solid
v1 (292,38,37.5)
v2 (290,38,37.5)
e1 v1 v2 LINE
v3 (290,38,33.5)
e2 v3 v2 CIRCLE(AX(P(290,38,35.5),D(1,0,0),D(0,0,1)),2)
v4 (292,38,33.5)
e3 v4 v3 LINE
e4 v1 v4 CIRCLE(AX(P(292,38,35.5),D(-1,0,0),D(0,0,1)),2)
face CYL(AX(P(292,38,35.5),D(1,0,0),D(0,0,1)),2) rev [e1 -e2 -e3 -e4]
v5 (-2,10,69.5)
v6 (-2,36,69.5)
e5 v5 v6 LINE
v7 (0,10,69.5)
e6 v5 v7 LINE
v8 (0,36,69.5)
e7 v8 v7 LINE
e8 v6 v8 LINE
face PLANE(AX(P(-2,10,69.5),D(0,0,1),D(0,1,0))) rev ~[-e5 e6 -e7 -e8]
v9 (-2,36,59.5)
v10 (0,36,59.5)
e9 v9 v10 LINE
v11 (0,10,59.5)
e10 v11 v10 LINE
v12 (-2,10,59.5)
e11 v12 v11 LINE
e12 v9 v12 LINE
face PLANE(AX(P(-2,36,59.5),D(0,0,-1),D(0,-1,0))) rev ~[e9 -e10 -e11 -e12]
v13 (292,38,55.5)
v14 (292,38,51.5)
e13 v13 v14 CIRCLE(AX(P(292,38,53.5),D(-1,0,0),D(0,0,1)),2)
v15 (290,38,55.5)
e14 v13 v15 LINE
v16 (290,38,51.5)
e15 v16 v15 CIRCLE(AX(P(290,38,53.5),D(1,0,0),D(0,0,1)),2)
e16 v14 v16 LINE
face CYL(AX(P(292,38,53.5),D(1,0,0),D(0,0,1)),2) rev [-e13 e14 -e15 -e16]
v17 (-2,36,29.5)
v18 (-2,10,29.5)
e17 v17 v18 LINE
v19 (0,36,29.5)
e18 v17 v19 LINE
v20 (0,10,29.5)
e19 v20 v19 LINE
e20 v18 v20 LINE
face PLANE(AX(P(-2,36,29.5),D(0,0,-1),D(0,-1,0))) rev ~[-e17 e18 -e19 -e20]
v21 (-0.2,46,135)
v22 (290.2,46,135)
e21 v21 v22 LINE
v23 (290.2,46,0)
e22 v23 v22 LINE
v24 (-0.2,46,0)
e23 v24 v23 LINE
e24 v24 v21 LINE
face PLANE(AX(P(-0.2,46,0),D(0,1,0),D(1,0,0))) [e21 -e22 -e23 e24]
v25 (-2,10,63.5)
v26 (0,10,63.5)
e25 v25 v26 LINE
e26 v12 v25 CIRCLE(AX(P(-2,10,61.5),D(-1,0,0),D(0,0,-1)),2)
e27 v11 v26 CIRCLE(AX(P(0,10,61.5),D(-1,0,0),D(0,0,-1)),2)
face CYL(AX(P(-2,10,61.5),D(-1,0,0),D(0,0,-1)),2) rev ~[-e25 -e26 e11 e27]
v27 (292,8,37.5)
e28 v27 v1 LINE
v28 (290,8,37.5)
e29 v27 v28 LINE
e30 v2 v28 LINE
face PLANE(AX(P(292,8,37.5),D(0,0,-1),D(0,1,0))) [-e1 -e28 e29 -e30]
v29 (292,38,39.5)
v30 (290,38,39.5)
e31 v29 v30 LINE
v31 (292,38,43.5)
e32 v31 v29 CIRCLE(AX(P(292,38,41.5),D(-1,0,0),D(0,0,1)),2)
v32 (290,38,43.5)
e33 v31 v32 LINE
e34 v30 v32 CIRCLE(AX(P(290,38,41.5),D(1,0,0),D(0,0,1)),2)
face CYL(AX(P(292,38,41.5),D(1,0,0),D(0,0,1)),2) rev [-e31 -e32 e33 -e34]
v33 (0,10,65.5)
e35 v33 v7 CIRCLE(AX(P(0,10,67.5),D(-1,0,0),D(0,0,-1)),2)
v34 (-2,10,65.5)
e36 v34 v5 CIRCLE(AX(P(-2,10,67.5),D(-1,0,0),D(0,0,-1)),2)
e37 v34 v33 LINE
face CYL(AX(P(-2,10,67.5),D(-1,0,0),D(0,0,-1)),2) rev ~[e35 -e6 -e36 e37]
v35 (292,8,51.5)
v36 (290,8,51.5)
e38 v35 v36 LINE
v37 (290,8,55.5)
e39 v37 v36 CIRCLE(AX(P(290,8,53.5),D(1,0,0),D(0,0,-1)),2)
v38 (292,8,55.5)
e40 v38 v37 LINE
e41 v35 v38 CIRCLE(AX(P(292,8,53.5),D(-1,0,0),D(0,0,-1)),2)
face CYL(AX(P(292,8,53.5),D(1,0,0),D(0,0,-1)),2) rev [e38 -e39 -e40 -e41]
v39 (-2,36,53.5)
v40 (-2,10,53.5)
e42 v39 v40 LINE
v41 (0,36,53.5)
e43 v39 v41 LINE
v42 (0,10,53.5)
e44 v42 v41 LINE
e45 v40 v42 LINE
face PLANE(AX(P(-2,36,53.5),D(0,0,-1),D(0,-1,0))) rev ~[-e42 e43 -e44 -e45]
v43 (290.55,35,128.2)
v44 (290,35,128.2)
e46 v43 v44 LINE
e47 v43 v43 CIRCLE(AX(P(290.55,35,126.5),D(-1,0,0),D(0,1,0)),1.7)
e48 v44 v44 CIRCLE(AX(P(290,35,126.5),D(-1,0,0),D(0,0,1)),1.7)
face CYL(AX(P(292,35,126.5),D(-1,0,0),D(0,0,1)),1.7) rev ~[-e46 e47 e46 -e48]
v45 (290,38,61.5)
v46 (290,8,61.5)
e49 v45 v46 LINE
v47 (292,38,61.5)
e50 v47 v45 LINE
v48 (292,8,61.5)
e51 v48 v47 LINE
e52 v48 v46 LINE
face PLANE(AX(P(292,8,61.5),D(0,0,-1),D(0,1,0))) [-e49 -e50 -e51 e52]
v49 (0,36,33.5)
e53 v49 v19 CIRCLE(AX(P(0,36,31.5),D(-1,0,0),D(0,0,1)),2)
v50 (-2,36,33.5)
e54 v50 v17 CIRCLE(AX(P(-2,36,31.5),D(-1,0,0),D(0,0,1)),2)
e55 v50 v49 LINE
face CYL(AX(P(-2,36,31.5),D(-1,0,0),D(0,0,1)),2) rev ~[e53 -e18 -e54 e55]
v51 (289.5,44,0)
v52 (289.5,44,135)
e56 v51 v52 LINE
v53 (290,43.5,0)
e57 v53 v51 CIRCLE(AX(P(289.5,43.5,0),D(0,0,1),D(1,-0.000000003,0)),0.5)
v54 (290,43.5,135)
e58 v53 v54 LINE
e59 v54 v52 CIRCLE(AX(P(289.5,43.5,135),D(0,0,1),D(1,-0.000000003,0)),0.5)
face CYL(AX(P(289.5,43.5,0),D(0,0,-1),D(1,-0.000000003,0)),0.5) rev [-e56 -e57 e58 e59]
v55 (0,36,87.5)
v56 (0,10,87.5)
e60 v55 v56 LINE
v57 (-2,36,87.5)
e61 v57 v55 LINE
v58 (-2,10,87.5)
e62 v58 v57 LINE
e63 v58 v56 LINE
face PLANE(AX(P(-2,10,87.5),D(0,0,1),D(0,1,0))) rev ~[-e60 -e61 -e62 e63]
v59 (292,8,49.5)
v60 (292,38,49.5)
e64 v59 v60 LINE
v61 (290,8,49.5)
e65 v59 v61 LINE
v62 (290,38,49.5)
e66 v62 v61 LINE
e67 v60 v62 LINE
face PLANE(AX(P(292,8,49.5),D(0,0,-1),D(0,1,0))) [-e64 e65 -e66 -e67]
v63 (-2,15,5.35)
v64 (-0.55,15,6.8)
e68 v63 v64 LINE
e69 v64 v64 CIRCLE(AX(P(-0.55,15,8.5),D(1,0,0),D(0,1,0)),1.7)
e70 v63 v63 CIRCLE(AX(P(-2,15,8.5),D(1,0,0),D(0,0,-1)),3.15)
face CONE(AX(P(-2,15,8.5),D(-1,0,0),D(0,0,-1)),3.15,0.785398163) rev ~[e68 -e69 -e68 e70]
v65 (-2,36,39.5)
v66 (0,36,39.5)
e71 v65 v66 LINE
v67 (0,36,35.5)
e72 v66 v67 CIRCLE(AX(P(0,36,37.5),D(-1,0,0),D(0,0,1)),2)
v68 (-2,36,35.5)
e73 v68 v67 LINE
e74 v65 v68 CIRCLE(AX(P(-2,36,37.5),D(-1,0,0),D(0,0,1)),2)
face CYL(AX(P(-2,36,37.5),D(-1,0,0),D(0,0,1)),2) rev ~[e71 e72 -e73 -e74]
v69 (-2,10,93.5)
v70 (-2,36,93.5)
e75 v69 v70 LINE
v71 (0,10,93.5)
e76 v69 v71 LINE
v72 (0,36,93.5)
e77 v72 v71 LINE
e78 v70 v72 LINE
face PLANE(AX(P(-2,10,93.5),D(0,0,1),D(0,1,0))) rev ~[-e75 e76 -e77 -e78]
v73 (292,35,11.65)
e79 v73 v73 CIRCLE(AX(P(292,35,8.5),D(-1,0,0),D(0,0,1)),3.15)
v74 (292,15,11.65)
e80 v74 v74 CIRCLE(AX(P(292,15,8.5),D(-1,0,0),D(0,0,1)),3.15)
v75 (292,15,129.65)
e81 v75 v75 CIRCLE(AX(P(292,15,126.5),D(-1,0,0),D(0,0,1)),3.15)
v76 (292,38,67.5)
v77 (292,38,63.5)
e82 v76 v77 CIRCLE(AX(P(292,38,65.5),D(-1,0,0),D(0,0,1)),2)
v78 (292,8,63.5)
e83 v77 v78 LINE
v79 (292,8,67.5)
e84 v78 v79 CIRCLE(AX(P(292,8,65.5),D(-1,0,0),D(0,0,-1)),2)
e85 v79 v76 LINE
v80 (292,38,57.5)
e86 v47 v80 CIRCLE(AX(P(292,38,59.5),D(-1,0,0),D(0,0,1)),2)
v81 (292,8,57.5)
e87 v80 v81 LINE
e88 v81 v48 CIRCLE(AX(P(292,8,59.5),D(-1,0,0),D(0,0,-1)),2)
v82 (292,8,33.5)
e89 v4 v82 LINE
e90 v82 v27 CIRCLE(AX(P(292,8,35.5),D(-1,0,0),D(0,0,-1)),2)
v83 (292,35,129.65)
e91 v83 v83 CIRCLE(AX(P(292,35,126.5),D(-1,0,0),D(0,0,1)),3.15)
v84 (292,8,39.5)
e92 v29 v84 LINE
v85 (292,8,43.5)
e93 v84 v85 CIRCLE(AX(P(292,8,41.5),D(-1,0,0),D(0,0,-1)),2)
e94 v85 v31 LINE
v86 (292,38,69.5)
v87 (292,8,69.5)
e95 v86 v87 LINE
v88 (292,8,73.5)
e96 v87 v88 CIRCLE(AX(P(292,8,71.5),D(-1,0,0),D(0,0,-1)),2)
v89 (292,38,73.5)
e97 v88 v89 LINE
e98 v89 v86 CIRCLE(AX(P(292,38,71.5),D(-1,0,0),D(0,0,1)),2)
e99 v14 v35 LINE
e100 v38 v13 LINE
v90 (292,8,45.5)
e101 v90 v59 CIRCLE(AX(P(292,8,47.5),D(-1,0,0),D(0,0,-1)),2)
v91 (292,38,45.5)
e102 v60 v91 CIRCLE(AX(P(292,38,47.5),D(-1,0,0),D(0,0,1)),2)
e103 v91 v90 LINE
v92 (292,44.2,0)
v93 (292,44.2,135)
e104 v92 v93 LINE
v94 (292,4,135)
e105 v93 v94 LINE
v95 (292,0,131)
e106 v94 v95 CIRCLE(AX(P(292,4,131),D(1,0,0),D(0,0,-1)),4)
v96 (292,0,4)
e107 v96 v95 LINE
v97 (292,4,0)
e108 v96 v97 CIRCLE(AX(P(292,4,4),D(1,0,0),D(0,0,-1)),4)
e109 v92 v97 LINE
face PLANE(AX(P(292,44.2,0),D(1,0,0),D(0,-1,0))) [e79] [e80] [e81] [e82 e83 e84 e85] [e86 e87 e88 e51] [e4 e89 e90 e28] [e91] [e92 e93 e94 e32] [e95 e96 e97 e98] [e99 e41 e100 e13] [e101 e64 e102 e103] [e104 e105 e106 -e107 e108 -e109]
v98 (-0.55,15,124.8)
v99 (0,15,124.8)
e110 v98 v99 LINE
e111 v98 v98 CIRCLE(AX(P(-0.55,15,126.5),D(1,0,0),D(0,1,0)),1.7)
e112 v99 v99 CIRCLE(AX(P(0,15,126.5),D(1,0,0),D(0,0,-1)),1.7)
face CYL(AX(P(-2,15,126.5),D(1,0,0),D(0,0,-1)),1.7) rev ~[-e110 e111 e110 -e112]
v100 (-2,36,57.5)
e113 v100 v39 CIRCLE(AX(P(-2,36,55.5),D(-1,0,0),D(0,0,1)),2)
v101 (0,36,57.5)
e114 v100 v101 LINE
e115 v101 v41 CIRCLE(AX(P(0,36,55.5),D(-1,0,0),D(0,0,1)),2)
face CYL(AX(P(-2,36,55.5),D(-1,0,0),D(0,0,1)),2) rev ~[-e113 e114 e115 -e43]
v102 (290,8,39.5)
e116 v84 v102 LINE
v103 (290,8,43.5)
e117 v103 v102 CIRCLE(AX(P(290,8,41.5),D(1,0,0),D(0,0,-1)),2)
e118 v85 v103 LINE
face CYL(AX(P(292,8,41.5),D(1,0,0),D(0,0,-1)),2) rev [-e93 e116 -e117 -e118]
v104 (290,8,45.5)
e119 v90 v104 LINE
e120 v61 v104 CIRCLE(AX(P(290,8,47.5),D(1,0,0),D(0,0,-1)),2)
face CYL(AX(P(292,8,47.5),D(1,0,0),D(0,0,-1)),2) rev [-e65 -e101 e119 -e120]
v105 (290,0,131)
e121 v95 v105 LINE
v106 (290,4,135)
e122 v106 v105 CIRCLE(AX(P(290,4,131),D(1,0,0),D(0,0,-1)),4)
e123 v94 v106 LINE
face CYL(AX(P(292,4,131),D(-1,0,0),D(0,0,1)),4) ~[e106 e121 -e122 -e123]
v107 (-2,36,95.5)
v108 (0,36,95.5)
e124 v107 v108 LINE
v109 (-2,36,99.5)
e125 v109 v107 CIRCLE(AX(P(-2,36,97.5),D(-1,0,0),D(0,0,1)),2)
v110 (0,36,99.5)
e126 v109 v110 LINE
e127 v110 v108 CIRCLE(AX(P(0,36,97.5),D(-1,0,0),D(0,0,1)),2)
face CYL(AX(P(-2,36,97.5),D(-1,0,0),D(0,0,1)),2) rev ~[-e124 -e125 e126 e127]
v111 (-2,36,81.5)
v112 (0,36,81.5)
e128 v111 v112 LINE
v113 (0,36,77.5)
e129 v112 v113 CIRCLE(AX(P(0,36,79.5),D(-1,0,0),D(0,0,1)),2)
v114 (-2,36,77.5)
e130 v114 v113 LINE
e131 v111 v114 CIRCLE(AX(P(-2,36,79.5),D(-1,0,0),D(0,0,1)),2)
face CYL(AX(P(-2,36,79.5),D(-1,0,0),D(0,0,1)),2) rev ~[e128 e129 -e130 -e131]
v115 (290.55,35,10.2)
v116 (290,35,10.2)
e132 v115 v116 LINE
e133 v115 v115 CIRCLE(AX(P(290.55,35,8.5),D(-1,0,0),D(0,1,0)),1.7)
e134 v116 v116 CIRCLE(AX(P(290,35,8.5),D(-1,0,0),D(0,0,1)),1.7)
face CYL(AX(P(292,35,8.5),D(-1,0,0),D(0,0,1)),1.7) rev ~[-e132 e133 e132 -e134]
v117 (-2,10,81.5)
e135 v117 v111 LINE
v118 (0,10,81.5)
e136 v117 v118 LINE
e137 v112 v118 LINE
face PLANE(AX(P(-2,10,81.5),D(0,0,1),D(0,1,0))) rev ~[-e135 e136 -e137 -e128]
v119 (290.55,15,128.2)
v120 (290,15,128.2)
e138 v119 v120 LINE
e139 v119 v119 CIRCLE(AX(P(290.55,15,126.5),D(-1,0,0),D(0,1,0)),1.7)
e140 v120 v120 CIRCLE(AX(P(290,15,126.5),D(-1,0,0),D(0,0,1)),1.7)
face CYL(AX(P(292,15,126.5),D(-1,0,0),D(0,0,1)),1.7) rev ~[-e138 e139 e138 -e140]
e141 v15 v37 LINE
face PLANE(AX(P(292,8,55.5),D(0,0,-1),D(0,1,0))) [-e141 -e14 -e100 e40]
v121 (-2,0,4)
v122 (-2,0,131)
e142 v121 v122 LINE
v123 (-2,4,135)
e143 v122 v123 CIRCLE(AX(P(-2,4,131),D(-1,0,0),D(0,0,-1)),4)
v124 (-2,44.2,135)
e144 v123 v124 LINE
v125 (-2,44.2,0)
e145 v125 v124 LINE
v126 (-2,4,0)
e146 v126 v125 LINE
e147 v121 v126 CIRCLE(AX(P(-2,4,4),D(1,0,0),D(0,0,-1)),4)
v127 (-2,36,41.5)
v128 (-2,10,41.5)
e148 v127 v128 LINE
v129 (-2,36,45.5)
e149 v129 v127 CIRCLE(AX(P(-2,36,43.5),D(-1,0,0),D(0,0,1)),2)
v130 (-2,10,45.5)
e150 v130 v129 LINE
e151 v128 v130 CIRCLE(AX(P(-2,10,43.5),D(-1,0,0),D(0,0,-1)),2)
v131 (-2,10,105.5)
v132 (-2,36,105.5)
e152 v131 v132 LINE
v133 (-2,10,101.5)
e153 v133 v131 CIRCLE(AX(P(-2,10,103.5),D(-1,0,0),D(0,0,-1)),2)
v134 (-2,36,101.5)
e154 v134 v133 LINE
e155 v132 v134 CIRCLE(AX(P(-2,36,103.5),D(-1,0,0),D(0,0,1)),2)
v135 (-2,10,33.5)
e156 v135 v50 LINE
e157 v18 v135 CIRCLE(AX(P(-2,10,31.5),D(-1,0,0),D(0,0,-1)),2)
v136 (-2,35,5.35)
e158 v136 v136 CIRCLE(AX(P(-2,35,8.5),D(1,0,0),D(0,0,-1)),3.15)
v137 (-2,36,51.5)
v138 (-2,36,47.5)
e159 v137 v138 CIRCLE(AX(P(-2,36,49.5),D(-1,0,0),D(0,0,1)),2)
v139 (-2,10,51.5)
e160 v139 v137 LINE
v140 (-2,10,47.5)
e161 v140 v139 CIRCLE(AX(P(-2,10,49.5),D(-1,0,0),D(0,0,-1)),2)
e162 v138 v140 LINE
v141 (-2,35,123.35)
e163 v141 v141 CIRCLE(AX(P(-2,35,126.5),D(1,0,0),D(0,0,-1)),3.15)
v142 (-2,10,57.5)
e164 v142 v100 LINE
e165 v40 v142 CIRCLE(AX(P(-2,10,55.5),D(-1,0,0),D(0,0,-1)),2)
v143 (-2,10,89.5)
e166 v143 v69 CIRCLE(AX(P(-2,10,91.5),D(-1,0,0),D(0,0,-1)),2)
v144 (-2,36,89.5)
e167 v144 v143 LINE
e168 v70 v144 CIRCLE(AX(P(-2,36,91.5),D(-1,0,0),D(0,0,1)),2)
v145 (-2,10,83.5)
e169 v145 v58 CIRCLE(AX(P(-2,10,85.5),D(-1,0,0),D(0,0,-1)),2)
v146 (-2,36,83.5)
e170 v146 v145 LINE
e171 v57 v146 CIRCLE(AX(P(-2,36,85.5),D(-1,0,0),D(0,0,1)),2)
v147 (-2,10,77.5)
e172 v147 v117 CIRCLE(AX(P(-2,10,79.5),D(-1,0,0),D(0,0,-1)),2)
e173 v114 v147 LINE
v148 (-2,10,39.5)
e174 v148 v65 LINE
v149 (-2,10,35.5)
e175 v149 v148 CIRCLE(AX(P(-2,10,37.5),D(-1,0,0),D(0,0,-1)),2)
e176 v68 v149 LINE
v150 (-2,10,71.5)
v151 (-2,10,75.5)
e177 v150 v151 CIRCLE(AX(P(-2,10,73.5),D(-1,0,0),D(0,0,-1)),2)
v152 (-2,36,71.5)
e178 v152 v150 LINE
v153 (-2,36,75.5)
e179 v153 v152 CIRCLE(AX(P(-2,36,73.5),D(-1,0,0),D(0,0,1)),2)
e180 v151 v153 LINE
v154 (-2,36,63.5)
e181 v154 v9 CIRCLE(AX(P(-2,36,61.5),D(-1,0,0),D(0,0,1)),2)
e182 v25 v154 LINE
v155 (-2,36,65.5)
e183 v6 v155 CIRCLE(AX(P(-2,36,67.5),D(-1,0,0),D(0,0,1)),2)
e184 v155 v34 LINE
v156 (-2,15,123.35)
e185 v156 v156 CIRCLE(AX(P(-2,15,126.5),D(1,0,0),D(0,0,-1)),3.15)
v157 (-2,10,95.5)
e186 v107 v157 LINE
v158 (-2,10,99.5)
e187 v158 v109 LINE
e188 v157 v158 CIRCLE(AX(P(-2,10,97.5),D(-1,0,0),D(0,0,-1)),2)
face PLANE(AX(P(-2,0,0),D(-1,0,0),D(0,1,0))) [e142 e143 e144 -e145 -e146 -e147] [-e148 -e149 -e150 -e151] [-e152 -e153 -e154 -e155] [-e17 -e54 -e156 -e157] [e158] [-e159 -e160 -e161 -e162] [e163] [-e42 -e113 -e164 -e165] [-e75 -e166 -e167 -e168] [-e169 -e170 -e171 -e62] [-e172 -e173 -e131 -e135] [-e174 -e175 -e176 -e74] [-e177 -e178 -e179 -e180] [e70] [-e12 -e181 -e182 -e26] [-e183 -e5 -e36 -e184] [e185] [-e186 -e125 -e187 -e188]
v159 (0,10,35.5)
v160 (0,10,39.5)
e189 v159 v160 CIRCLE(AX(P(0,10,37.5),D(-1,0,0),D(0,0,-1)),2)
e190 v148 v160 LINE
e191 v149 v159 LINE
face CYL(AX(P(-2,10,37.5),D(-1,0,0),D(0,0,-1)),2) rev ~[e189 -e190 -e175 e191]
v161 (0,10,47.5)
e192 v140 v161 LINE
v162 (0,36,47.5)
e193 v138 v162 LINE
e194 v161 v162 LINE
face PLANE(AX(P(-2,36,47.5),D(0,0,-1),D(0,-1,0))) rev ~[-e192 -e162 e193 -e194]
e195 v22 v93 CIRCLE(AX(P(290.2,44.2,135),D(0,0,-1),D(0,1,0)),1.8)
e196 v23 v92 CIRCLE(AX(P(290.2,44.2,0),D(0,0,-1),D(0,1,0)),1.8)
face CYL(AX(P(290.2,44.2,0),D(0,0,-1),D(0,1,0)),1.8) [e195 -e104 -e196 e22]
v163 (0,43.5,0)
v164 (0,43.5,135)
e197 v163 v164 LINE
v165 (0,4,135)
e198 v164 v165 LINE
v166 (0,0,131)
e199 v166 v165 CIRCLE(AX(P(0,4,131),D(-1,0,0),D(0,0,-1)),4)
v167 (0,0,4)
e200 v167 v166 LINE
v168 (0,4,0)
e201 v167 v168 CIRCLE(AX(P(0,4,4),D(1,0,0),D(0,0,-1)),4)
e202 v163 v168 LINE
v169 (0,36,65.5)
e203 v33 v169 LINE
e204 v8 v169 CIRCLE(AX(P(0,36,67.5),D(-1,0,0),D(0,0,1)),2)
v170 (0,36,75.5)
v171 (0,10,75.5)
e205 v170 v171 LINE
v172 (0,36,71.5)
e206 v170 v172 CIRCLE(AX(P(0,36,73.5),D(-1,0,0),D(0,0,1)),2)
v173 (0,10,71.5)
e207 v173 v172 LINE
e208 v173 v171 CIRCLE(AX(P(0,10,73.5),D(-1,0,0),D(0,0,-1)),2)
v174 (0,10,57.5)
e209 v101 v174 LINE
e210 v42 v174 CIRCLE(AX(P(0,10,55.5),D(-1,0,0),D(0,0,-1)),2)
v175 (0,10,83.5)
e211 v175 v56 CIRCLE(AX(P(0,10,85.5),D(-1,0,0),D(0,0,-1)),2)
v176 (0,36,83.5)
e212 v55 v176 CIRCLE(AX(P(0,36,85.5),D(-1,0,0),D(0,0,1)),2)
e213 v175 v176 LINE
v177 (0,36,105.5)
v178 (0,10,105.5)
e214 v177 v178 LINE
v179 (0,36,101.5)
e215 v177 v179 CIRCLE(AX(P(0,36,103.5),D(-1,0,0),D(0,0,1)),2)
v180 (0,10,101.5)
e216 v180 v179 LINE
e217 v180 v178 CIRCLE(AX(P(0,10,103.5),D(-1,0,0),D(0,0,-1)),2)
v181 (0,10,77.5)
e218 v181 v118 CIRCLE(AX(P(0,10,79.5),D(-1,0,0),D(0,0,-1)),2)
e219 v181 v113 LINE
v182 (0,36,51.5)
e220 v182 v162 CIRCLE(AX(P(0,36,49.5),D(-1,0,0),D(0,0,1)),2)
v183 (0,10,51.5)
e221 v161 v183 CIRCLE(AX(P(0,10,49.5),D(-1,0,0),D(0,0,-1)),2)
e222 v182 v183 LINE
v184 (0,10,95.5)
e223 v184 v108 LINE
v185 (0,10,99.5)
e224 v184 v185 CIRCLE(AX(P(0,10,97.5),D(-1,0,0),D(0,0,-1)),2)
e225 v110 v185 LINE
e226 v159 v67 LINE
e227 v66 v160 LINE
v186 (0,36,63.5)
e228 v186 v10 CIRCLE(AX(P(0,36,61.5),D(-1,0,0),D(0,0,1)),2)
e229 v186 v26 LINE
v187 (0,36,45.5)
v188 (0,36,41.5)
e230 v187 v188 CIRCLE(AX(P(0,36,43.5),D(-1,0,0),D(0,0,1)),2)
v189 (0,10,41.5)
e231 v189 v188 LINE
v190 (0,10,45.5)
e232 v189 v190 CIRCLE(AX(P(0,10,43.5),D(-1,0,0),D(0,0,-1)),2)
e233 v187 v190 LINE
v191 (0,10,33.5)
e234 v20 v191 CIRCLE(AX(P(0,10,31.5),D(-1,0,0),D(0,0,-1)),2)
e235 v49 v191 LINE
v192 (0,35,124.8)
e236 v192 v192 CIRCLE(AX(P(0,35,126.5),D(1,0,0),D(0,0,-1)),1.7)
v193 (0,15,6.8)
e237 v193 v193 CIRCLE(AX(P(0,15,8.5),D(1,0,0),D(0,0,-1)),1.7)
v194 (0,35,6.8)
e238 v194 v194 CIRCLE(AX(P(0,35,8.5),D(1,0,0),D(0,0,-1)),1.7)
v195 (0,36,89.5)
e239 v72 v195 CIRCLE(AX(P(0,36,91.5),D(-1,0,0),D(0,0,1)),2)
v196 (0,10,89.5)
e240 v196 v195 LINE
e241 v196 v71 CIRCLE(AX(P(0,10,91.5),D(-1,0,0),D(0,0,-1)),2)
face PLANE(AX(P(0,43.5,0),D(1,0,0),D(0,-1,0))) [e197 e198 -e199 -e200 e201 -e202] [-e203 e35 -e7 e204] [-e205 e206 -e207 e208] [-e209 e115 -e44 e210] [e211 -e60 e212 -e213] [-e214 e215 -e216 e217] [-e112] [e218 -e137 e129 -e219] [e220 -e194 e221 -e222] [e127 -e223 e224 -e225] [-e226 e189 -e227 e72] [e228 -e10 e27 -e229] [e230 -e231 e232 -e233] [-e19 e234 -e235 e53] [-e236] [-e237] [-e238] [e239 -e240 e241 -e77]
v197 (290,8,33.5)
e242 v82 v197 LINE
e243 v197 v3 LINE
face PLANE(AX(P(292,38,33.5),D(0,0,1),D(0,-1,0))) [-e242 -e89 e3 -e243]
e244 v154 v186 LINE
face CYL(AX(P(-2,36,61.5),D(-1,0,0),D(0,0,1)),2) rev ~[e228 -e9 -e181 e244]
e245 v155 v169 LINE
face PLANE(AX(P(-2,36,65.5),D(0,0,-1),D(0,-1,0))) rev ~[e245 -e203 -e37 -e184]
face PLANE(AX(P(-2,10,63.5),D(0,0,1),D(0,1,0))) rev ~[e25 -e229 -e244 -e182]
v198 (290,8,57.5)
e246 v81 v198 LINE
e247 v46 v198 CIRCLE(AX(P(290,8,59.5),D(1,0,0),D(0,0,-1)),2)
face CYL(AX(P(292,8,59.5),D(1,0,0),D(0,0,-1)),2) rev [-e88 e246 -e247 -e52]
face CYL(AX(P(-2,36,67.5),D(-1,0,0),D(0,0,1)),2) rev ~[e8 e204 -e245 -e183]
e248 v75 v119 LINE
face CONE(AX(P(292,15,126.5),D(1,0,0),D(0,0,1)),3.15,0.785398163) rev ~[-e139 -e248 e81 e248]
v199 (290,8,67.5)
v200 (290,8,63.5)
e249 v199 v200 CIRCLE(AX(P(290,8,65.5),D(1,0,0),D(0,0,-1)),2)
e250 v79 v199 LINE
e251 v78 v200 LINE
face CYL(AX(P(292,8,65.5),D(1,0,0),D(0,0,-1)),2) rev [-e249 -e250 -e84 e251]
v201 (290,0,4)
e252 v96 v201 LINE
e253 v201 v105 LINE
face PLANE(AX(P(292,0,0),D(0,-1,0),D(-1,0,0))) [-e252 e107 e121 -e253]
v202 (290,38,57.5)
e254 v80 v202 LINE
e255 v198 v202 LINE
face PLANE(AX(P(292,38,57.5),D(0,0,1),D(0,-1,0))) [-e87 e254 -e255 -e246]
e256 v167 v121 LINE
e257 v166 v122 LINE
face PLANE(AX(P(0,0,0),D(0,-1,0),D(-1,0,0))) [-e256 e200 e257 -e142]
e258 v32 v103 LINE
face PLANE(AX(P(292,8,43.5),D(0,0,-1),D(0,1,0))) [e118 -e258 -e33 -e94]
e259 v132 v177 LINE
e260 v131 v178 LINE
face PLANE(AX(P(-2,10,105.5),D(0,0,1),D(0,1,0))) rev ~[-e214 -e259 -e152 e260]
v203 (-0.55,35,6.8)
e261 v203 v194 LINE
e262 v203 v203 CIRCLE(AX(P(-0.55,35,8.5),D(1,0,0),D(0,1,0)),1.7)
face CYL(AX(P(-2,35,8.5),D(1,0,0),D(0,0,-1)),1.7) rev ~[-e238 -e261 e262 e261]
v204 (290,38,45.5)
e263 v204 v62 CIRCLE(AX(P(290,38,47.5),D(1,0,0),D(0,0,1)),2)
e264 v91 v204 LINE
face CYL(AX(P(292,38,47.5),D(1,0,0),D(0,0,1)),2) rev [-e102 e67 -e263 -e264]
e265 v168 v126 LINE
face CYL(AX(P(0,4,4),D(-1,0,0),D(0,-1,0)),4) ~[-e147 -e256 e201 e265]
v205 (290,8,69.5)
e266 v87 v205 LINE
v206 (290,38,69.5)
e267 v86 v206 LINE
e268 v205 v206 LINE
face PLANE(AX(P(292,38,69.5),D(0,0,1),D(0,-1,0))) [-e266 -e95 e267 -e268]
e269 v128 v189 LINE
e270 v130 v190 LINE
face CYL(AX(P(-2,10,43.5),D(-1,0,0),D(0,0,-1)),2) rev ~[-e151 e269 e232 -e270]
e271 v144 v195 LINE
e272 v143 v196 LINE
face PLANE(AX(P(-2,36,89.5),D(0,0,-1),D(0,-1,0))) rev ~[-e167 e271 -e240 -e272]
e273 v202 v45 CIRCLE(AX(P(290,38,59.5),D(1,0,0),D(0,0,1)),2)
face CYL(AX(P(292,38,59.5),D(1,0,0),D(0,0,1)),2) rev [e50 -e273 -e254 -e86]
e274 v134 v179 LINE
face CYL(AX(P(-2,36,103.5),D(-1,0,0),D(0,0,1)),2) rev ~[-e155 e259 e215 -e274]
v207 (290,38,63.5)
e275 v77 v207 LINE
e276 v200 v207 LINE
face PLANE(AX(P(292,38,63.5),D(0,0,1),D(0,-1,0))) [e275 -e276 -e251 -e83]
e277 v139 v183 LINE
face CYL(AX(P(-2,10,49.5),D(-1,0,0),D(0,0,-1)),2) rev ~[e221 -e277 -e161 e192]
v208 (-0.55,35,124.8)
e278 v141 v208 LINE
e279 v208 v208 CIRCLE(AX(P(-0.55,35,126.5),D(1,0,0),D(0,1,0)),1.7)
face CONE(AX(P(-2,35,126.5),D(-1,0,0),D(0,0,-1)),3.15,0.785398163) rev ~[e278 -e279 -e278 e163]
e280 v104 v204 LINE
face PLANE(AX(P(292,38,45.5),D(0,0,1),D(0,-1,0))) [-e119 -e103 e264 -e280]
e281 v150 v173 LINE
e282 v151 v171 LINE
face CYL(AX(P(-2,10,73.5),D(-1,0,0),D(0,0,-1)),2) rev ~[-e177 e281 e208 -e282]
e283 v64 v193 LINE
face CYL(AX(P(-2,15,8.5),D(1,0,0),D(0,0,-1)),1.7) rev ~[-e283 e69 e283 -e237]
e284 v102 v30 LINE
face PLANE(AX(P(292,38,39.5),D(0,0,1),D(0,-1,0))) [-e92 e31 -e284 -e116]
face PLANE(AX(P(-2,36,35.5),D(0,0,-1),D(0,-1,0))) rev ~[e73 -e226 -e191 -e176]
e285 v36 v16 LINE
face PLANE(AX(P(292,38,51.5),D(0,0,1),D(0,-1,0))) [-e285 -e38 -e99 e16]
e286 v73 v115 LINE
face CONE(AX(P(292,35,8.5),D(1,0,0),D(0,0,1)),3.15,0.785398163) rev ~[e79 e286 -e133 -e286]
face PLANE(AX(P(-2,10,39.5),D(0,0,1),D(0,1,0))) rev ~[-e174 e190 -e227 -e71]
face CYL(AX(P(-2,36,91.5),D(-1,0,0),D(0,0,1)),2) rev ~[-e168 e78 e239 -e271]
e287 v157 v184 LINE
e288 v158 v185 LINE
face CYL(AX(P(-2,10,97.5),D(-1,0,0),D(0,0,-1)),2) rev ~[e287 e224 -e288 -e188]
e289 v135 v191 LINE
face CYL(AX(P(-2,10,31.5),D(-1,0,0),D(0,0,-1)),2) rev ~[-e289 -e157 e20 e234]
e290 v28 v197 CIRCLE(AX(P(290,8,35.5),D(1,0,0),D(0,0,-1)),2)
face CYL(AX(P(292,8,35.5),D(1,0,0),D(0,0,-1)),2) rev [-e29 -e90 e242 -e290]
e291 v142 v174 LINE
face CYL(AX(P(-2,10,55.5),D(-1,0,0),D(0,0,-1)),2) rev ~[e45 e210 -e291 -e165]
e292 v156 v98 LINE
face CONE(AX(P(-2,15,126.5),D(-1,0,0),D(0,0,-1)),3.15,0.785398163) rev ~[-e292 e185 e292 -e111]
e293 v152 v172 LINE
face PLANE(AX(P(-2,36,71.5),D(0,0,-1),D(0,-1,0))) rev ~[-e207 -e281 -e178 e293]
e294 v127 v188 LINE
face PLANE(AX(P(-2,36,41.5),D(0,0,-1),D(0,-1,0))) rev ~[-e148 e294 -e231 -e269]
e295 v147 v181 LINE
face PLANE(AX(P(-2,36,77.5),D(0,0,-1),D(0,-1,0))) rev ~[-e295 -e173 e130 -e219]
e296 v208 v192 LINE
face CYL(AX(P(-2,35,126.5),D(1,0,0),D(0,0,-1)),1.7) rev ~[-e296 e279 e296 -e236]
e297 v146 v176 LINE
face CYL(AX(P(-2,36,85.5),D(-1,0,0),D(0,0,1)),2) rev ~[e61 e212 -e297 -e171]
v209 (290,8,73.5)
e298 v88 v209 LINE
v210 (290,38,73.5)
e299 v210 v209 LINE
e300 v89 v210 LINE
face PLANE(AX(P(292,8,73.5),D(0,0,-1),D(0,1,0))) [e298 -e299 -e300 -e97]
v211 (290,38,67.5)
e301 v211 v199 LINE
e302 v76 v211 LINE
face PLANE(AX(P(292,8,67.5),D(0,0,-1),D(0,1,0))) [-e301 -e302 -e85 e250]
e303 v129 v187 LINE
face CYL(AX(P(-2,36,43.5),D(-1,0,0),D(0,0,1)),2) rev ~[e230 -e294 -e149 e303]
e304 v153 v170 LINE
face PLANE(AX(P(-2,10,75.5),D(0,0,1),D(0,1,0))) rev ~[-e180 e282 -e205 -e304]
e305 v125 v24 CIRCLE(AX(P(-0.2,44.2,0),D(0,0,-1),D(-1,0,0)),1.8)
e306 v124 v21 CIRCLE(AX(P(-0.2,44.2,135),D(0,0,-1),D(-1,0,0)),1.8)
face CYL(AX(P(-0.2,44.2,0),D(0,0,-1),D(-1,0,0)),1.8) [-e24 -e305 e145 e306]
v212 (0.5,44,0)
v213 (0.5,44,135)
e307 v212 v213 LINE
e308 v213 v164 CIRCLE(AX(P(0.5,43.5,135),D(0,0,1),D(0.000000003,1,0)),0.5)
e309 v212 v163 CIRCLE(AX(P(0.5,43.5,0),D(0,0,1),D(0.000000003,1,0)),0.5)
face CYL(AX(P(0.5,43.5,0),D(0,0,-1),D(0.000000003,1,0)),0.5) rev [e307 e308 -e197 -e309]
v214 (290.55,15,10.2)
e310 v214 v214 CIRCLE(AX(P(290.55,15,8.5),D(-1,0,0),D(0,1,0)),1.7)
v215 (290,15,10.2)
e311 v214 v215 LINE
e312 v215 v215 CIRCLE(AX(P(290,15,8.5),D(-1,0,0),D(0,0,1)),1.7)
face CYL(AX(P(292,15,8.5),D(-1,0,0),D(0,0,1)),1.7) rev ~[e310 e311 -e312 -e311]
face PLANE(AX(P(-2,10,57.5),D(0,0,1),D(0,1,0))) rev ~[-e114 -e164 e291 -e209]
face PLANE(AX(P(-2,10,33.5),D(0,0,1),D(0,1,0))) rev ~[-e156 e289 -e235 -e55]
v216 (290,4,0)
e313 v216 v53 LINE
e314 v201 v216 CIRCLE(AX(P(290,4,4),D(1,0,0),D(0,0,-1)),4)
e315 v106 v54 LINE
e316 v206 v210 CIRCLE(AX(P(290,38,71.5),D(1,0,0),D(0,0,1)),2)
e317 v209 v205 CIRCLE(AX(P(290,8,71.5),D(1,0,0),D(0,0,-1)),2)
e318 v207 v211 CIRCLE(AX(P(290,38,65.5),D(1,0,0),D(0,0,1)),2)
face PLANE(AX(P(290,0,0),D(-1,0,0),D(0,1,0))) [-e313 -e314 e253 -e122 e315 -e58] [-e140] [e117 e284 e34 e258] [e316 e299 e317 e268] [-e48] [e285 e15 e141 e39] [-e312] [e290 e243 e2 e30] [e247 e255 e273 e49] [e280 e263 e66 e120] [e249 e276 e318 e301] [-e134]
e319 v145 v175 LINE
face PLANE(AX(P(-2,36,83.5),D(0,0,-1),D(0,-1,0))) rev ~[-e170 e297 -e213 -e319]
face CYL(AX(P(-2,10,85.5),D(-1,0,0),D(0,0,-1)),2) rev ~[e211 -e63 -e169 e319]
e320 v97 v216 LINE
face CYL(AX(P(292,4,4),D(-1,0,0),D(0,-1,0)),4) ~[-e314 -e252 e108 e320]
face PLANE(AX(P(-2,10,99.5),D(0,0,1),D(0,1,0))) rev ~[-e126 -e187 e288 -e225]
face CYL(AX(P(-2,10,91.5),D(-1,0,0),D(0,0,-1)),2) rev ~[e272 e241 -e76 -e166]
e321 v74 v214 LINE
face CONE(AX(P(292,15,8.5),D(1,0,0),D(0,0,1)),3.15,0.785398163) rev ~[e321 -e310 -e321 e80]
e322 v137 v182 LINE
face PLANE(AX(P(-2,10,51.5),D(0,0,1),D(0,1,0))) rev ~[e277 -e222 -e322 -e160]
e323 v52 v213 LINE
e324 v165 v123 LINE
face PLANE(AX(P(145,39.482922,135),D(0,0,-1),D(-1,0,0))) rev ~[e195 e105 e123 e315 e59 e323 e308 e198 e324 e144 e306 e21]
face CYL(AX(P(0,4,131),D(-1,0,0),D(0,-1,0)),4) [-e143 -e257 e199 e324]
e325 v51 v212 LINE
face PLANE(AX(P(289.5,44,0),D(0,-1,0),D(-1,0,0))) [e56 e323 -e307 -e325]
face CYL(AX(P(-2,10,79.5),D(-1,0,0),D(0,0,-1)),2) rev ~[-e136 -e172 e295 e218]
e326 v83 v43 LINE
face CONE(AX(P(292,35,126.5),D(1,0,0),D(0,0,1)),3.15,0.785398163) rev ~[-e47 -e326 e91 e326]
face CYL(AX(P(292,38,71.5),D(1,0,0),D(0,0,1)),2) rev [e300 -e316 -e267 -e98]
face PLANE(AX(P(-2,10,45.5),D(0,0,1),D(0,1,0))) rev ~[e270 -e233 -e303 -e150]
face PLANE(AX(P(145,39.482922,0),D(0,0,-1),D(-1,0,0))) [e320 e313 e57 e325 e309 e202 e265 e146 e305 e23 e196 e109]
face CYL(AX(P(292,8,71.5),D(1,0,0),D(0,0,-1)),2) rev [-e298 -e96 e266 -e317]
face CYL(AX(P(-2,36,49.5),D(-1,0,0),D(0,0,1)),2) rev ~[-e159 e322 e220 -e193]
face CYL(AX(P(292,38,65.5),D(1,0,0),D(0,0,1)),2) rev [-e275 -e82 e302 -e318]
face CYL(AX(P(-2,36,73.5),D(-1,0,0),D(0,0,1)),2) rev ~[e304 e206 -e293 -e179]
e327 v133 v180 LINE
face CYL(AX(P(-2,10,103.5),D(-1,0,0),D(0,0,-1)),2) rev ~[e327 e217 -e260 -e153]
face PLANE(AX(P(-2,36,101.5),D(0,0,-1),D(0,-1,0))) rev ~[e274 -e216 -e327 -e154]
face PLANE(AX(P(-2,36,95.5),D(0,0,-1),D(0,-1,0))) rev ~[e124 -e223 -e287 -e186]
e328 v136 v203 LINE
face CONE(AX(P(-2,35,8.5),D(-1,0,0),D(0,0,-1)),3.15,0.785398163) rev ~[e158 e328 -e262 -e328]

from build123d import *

# Parameters (mm, degrees)
BOSS_EXTRUDE1_DEPTH                             = 135
CSK_FOR_M3_FLAT_HEAD_MACHINE_SCREW1_D           = 3.4
CSK_FOR_M3_FLAT_HEAD_MACHINE_SCREW1_DEPTH       = 5
CSK_FOR_M3_FLAT_HEAD_MACHINE_SCREW1_CSINK_D     = 6.3
CSK_FOR_M3_FLAT_HEAD_MACHINE_SCREW1_CSINK_ANGLE = 90
CSK_FOR_M3_FLAT_HEAD_MACHINE_SCREW1_TIP         = 1.021463052
CSK_FOR_M3_FLAT_HEAD_MACHINE_SCREW2_D           = 3.4
CSK_FOR_M3_FLAT_HEAD_MACHINE_SCREW2_DEPTH       = 5
CSK_FOR_M3_FLAT_HEAD_MACHINE_SCREW2_CSINK_D     = 6.3
CSK_FOR_M3_FLAT_HEAD_MACHINE_SCREW2_CSINK_ANGLE = 90
CSK_FOR_M3_FLAT_HEAD_MACHINE_SCREW2_TIP         = 1.021463052
FILLET1_R                                       = 4
CUT_EXTRUDE1_DEPTH                              = 10
LPATTERN1_COUNT                                 = 13
LPATTERN1_PITCH                                 = 6
CUT_EXTRUDE2_DEPTH                              = 10
LPATTERN2_COUNT                                 = 7
LPATTERN2_PITCH                                 = 6


with BuildPart() as part:
    # Sketch1 → Boss-Extrude1 (new body)
    with BuildSketch(Plane.XY):
        with BuildLine():
            Line((0, 0), (-2, 0))
            Line((-2, 0), (-2, 44.2))
            ThreePointArc((-2, 44.2), (-1.472792206, 45.472792206), (-0.2, 46))
            Line((-0.2, 46), (290.2, 46))
            ThreePointArc((290.2, 46), (291.472792206, 45.472792206), (292, 44.2))
            Line((292, 44.2), (292, 0))
            Line((292, 0), (290, 0))
            Line((290, 0), (290, 43.5))
            ThreePointArc((290, 43.5), (289.853553391, 43.853553391), (289.5, 44))
            Line((289.5, 44), (0.5, 44))
            ThreePointArc((0.5, 44), (0.146446609, 43.853553391), (0, 43.5))
            Line((0, 43.5), (0, 0))
        make_face()
    extrude(amount=BOSS_EXTRUDE1_DEPTH)

    # CSK for M3 Flat Head Machine Screw1
    with Locations(Plane.ZY.offset(2)):
        with Locations((8.5, 35), (8.5, 15), (126.5, 35), (126.5, 15)):
            CounterSinkHole(CSK_FOR_M3_FLAT_HEAD_MACHINE_SCREW1_D / 2, CSK_FOR_M3_FLAT_HEAD_MACHINE_SCREW1_CSINK_D / 2, depth=CSK_FOR_M3_FLAT_HEAD_MACHINE_SCREW1_DEPTH, counter_sink_angle=CSK_FOR_M3_FLAT_HEAD_MACHINE_SCREW1_CSINK_ANGLE)
            with Locations((0, 0, -(CSK_FOR_M3_FLAT_HEAD_MACHINE_SCREW1_DEPTH + CSK_FOR_M3_FLAT_HEAD_MACHINE_SCREW1_TIP / 2))):  # 118° drill point
                Cone(0, CSK_FOR_M3_FLAT_HEAD_MACHINE_SCREW1_D / 2, CSK_FOR_M3_FLAT_HEAD_MACHINE_SCREW1_TIP, mode=Mode.SUBTRACT)

    # CSK for M3 Flat Head Machine Screw2
    with Locations(Plane(origin=(292, 0, 0), x_dir=(0, 0, -1), z_dir=(1, 0, 0))):
        with Locations((-126.5, 35), (-126.5, 15), (-8.5, 35), (-8.5, 15)):
            CounterSinkHole(CSK_FOR_M3_FLAT_HEAD_MACHINE_SCREW2_D / 2, CSK_FOR_M3_FLAT_HEAD_MACHINE_SCREW2_CSINK_D / 2, depth=CSK_FOR_M3_FLAT_HEAD_MACHINE_SCREW2_DEPTH, counter_sink_angle=CSK_FOR_M3_FLAT_HEAD_MACHINE_SCREW2_CSINK_ANGLE)
            with Locations((0, 0, -(CSK_FOR_M3_FLAT_HEAD_MACHINE_SCREW2_DEPTH + CSK_FOR_M3_FLAT_HEAD_MACHINE_SCREW2_TIP / 2))):  # 118° drill point
                Cone(0, CSK_FOR_M3_FLAT_HEAD_MACHINE_SCREW2_D / 2, CSK_FOR_M3_FLAT_HEAD_MACHINE_SCREW2_TIP, mode=Mode.SUBTRACT)

    # Fillet1
    fillet1_edges = [part.edges().sort_by_distance(p)[0] for p in [
        (-1, 0, 0),
        (291, 0, 0),
        (291, 0, 135),
        (-1, 0, 135),
    ]]
    fillet(fillet1_edges, radius=FILLET1_R)

    # Sketch6 → Cut-Extrude1 (cut)
    with BuildSketch(Plane(origin=(-2, 0, 0), x_dir=(0, 0, -1), z_dir=(1, 0, 0))):
        with BuildLine():
            Line((-101.5, 36), (-101.5, 10))
            ThreePointArc((-101.5, 10), (-103.5, 8), (-105.5, 10))
            Line((-105.5, 10), (-105.5, 36))
            ThreePointArc((-105.5, 36), (-103.5, 38), (-101.5, 36))
        make_face()
    cut_extrude1 = extrude(amount=CUT_EXTRUDE1_DEPTH, mode=Mode.SUBTRACT)

    # LPattern1: Cut-Extrude1 ×13
    with Locations(*[(0, 0, -i * LPATTERN1_PITCH) for i in range(1, LPATTERN1_COUNT)]):
        add(cut_extrude1, mode=Mode.SUBTRACT)

    # Sketch7 → Cut-Extrude2 (cut)
    with BuildSketch(Plane(origin=(292, 0, 0), x_dir=(0, 0, -1), z_dir=(1, 0, 0))):
        with BuildLine():
            Line((-33.5, 38), (-33.5, 8))
            ThreePointArc((-33.5, 8), (-35.5, 6), (-37.5, 8))
            Line((-37.5, 8), (-37.5, 38))
            ThreePointArc((-37.5, 38), (-35.5, 40), (-33.5, 38))
        make_face()
    cut_extrude2 = extrude(amount=-CUT_EXTRUDE2_DEPTH, mode=Mode.SUBTRACT)

    # LPattern2: Cut-Extrude2 ×7
    with Locations(*[(0, 0, i * LPATTERN2_PITCH) for i in range(1, LPATTERN2_COUNT)]):
        add(cut_extrude2, mode=Mode.SUBTRACT)


solid = part.part
